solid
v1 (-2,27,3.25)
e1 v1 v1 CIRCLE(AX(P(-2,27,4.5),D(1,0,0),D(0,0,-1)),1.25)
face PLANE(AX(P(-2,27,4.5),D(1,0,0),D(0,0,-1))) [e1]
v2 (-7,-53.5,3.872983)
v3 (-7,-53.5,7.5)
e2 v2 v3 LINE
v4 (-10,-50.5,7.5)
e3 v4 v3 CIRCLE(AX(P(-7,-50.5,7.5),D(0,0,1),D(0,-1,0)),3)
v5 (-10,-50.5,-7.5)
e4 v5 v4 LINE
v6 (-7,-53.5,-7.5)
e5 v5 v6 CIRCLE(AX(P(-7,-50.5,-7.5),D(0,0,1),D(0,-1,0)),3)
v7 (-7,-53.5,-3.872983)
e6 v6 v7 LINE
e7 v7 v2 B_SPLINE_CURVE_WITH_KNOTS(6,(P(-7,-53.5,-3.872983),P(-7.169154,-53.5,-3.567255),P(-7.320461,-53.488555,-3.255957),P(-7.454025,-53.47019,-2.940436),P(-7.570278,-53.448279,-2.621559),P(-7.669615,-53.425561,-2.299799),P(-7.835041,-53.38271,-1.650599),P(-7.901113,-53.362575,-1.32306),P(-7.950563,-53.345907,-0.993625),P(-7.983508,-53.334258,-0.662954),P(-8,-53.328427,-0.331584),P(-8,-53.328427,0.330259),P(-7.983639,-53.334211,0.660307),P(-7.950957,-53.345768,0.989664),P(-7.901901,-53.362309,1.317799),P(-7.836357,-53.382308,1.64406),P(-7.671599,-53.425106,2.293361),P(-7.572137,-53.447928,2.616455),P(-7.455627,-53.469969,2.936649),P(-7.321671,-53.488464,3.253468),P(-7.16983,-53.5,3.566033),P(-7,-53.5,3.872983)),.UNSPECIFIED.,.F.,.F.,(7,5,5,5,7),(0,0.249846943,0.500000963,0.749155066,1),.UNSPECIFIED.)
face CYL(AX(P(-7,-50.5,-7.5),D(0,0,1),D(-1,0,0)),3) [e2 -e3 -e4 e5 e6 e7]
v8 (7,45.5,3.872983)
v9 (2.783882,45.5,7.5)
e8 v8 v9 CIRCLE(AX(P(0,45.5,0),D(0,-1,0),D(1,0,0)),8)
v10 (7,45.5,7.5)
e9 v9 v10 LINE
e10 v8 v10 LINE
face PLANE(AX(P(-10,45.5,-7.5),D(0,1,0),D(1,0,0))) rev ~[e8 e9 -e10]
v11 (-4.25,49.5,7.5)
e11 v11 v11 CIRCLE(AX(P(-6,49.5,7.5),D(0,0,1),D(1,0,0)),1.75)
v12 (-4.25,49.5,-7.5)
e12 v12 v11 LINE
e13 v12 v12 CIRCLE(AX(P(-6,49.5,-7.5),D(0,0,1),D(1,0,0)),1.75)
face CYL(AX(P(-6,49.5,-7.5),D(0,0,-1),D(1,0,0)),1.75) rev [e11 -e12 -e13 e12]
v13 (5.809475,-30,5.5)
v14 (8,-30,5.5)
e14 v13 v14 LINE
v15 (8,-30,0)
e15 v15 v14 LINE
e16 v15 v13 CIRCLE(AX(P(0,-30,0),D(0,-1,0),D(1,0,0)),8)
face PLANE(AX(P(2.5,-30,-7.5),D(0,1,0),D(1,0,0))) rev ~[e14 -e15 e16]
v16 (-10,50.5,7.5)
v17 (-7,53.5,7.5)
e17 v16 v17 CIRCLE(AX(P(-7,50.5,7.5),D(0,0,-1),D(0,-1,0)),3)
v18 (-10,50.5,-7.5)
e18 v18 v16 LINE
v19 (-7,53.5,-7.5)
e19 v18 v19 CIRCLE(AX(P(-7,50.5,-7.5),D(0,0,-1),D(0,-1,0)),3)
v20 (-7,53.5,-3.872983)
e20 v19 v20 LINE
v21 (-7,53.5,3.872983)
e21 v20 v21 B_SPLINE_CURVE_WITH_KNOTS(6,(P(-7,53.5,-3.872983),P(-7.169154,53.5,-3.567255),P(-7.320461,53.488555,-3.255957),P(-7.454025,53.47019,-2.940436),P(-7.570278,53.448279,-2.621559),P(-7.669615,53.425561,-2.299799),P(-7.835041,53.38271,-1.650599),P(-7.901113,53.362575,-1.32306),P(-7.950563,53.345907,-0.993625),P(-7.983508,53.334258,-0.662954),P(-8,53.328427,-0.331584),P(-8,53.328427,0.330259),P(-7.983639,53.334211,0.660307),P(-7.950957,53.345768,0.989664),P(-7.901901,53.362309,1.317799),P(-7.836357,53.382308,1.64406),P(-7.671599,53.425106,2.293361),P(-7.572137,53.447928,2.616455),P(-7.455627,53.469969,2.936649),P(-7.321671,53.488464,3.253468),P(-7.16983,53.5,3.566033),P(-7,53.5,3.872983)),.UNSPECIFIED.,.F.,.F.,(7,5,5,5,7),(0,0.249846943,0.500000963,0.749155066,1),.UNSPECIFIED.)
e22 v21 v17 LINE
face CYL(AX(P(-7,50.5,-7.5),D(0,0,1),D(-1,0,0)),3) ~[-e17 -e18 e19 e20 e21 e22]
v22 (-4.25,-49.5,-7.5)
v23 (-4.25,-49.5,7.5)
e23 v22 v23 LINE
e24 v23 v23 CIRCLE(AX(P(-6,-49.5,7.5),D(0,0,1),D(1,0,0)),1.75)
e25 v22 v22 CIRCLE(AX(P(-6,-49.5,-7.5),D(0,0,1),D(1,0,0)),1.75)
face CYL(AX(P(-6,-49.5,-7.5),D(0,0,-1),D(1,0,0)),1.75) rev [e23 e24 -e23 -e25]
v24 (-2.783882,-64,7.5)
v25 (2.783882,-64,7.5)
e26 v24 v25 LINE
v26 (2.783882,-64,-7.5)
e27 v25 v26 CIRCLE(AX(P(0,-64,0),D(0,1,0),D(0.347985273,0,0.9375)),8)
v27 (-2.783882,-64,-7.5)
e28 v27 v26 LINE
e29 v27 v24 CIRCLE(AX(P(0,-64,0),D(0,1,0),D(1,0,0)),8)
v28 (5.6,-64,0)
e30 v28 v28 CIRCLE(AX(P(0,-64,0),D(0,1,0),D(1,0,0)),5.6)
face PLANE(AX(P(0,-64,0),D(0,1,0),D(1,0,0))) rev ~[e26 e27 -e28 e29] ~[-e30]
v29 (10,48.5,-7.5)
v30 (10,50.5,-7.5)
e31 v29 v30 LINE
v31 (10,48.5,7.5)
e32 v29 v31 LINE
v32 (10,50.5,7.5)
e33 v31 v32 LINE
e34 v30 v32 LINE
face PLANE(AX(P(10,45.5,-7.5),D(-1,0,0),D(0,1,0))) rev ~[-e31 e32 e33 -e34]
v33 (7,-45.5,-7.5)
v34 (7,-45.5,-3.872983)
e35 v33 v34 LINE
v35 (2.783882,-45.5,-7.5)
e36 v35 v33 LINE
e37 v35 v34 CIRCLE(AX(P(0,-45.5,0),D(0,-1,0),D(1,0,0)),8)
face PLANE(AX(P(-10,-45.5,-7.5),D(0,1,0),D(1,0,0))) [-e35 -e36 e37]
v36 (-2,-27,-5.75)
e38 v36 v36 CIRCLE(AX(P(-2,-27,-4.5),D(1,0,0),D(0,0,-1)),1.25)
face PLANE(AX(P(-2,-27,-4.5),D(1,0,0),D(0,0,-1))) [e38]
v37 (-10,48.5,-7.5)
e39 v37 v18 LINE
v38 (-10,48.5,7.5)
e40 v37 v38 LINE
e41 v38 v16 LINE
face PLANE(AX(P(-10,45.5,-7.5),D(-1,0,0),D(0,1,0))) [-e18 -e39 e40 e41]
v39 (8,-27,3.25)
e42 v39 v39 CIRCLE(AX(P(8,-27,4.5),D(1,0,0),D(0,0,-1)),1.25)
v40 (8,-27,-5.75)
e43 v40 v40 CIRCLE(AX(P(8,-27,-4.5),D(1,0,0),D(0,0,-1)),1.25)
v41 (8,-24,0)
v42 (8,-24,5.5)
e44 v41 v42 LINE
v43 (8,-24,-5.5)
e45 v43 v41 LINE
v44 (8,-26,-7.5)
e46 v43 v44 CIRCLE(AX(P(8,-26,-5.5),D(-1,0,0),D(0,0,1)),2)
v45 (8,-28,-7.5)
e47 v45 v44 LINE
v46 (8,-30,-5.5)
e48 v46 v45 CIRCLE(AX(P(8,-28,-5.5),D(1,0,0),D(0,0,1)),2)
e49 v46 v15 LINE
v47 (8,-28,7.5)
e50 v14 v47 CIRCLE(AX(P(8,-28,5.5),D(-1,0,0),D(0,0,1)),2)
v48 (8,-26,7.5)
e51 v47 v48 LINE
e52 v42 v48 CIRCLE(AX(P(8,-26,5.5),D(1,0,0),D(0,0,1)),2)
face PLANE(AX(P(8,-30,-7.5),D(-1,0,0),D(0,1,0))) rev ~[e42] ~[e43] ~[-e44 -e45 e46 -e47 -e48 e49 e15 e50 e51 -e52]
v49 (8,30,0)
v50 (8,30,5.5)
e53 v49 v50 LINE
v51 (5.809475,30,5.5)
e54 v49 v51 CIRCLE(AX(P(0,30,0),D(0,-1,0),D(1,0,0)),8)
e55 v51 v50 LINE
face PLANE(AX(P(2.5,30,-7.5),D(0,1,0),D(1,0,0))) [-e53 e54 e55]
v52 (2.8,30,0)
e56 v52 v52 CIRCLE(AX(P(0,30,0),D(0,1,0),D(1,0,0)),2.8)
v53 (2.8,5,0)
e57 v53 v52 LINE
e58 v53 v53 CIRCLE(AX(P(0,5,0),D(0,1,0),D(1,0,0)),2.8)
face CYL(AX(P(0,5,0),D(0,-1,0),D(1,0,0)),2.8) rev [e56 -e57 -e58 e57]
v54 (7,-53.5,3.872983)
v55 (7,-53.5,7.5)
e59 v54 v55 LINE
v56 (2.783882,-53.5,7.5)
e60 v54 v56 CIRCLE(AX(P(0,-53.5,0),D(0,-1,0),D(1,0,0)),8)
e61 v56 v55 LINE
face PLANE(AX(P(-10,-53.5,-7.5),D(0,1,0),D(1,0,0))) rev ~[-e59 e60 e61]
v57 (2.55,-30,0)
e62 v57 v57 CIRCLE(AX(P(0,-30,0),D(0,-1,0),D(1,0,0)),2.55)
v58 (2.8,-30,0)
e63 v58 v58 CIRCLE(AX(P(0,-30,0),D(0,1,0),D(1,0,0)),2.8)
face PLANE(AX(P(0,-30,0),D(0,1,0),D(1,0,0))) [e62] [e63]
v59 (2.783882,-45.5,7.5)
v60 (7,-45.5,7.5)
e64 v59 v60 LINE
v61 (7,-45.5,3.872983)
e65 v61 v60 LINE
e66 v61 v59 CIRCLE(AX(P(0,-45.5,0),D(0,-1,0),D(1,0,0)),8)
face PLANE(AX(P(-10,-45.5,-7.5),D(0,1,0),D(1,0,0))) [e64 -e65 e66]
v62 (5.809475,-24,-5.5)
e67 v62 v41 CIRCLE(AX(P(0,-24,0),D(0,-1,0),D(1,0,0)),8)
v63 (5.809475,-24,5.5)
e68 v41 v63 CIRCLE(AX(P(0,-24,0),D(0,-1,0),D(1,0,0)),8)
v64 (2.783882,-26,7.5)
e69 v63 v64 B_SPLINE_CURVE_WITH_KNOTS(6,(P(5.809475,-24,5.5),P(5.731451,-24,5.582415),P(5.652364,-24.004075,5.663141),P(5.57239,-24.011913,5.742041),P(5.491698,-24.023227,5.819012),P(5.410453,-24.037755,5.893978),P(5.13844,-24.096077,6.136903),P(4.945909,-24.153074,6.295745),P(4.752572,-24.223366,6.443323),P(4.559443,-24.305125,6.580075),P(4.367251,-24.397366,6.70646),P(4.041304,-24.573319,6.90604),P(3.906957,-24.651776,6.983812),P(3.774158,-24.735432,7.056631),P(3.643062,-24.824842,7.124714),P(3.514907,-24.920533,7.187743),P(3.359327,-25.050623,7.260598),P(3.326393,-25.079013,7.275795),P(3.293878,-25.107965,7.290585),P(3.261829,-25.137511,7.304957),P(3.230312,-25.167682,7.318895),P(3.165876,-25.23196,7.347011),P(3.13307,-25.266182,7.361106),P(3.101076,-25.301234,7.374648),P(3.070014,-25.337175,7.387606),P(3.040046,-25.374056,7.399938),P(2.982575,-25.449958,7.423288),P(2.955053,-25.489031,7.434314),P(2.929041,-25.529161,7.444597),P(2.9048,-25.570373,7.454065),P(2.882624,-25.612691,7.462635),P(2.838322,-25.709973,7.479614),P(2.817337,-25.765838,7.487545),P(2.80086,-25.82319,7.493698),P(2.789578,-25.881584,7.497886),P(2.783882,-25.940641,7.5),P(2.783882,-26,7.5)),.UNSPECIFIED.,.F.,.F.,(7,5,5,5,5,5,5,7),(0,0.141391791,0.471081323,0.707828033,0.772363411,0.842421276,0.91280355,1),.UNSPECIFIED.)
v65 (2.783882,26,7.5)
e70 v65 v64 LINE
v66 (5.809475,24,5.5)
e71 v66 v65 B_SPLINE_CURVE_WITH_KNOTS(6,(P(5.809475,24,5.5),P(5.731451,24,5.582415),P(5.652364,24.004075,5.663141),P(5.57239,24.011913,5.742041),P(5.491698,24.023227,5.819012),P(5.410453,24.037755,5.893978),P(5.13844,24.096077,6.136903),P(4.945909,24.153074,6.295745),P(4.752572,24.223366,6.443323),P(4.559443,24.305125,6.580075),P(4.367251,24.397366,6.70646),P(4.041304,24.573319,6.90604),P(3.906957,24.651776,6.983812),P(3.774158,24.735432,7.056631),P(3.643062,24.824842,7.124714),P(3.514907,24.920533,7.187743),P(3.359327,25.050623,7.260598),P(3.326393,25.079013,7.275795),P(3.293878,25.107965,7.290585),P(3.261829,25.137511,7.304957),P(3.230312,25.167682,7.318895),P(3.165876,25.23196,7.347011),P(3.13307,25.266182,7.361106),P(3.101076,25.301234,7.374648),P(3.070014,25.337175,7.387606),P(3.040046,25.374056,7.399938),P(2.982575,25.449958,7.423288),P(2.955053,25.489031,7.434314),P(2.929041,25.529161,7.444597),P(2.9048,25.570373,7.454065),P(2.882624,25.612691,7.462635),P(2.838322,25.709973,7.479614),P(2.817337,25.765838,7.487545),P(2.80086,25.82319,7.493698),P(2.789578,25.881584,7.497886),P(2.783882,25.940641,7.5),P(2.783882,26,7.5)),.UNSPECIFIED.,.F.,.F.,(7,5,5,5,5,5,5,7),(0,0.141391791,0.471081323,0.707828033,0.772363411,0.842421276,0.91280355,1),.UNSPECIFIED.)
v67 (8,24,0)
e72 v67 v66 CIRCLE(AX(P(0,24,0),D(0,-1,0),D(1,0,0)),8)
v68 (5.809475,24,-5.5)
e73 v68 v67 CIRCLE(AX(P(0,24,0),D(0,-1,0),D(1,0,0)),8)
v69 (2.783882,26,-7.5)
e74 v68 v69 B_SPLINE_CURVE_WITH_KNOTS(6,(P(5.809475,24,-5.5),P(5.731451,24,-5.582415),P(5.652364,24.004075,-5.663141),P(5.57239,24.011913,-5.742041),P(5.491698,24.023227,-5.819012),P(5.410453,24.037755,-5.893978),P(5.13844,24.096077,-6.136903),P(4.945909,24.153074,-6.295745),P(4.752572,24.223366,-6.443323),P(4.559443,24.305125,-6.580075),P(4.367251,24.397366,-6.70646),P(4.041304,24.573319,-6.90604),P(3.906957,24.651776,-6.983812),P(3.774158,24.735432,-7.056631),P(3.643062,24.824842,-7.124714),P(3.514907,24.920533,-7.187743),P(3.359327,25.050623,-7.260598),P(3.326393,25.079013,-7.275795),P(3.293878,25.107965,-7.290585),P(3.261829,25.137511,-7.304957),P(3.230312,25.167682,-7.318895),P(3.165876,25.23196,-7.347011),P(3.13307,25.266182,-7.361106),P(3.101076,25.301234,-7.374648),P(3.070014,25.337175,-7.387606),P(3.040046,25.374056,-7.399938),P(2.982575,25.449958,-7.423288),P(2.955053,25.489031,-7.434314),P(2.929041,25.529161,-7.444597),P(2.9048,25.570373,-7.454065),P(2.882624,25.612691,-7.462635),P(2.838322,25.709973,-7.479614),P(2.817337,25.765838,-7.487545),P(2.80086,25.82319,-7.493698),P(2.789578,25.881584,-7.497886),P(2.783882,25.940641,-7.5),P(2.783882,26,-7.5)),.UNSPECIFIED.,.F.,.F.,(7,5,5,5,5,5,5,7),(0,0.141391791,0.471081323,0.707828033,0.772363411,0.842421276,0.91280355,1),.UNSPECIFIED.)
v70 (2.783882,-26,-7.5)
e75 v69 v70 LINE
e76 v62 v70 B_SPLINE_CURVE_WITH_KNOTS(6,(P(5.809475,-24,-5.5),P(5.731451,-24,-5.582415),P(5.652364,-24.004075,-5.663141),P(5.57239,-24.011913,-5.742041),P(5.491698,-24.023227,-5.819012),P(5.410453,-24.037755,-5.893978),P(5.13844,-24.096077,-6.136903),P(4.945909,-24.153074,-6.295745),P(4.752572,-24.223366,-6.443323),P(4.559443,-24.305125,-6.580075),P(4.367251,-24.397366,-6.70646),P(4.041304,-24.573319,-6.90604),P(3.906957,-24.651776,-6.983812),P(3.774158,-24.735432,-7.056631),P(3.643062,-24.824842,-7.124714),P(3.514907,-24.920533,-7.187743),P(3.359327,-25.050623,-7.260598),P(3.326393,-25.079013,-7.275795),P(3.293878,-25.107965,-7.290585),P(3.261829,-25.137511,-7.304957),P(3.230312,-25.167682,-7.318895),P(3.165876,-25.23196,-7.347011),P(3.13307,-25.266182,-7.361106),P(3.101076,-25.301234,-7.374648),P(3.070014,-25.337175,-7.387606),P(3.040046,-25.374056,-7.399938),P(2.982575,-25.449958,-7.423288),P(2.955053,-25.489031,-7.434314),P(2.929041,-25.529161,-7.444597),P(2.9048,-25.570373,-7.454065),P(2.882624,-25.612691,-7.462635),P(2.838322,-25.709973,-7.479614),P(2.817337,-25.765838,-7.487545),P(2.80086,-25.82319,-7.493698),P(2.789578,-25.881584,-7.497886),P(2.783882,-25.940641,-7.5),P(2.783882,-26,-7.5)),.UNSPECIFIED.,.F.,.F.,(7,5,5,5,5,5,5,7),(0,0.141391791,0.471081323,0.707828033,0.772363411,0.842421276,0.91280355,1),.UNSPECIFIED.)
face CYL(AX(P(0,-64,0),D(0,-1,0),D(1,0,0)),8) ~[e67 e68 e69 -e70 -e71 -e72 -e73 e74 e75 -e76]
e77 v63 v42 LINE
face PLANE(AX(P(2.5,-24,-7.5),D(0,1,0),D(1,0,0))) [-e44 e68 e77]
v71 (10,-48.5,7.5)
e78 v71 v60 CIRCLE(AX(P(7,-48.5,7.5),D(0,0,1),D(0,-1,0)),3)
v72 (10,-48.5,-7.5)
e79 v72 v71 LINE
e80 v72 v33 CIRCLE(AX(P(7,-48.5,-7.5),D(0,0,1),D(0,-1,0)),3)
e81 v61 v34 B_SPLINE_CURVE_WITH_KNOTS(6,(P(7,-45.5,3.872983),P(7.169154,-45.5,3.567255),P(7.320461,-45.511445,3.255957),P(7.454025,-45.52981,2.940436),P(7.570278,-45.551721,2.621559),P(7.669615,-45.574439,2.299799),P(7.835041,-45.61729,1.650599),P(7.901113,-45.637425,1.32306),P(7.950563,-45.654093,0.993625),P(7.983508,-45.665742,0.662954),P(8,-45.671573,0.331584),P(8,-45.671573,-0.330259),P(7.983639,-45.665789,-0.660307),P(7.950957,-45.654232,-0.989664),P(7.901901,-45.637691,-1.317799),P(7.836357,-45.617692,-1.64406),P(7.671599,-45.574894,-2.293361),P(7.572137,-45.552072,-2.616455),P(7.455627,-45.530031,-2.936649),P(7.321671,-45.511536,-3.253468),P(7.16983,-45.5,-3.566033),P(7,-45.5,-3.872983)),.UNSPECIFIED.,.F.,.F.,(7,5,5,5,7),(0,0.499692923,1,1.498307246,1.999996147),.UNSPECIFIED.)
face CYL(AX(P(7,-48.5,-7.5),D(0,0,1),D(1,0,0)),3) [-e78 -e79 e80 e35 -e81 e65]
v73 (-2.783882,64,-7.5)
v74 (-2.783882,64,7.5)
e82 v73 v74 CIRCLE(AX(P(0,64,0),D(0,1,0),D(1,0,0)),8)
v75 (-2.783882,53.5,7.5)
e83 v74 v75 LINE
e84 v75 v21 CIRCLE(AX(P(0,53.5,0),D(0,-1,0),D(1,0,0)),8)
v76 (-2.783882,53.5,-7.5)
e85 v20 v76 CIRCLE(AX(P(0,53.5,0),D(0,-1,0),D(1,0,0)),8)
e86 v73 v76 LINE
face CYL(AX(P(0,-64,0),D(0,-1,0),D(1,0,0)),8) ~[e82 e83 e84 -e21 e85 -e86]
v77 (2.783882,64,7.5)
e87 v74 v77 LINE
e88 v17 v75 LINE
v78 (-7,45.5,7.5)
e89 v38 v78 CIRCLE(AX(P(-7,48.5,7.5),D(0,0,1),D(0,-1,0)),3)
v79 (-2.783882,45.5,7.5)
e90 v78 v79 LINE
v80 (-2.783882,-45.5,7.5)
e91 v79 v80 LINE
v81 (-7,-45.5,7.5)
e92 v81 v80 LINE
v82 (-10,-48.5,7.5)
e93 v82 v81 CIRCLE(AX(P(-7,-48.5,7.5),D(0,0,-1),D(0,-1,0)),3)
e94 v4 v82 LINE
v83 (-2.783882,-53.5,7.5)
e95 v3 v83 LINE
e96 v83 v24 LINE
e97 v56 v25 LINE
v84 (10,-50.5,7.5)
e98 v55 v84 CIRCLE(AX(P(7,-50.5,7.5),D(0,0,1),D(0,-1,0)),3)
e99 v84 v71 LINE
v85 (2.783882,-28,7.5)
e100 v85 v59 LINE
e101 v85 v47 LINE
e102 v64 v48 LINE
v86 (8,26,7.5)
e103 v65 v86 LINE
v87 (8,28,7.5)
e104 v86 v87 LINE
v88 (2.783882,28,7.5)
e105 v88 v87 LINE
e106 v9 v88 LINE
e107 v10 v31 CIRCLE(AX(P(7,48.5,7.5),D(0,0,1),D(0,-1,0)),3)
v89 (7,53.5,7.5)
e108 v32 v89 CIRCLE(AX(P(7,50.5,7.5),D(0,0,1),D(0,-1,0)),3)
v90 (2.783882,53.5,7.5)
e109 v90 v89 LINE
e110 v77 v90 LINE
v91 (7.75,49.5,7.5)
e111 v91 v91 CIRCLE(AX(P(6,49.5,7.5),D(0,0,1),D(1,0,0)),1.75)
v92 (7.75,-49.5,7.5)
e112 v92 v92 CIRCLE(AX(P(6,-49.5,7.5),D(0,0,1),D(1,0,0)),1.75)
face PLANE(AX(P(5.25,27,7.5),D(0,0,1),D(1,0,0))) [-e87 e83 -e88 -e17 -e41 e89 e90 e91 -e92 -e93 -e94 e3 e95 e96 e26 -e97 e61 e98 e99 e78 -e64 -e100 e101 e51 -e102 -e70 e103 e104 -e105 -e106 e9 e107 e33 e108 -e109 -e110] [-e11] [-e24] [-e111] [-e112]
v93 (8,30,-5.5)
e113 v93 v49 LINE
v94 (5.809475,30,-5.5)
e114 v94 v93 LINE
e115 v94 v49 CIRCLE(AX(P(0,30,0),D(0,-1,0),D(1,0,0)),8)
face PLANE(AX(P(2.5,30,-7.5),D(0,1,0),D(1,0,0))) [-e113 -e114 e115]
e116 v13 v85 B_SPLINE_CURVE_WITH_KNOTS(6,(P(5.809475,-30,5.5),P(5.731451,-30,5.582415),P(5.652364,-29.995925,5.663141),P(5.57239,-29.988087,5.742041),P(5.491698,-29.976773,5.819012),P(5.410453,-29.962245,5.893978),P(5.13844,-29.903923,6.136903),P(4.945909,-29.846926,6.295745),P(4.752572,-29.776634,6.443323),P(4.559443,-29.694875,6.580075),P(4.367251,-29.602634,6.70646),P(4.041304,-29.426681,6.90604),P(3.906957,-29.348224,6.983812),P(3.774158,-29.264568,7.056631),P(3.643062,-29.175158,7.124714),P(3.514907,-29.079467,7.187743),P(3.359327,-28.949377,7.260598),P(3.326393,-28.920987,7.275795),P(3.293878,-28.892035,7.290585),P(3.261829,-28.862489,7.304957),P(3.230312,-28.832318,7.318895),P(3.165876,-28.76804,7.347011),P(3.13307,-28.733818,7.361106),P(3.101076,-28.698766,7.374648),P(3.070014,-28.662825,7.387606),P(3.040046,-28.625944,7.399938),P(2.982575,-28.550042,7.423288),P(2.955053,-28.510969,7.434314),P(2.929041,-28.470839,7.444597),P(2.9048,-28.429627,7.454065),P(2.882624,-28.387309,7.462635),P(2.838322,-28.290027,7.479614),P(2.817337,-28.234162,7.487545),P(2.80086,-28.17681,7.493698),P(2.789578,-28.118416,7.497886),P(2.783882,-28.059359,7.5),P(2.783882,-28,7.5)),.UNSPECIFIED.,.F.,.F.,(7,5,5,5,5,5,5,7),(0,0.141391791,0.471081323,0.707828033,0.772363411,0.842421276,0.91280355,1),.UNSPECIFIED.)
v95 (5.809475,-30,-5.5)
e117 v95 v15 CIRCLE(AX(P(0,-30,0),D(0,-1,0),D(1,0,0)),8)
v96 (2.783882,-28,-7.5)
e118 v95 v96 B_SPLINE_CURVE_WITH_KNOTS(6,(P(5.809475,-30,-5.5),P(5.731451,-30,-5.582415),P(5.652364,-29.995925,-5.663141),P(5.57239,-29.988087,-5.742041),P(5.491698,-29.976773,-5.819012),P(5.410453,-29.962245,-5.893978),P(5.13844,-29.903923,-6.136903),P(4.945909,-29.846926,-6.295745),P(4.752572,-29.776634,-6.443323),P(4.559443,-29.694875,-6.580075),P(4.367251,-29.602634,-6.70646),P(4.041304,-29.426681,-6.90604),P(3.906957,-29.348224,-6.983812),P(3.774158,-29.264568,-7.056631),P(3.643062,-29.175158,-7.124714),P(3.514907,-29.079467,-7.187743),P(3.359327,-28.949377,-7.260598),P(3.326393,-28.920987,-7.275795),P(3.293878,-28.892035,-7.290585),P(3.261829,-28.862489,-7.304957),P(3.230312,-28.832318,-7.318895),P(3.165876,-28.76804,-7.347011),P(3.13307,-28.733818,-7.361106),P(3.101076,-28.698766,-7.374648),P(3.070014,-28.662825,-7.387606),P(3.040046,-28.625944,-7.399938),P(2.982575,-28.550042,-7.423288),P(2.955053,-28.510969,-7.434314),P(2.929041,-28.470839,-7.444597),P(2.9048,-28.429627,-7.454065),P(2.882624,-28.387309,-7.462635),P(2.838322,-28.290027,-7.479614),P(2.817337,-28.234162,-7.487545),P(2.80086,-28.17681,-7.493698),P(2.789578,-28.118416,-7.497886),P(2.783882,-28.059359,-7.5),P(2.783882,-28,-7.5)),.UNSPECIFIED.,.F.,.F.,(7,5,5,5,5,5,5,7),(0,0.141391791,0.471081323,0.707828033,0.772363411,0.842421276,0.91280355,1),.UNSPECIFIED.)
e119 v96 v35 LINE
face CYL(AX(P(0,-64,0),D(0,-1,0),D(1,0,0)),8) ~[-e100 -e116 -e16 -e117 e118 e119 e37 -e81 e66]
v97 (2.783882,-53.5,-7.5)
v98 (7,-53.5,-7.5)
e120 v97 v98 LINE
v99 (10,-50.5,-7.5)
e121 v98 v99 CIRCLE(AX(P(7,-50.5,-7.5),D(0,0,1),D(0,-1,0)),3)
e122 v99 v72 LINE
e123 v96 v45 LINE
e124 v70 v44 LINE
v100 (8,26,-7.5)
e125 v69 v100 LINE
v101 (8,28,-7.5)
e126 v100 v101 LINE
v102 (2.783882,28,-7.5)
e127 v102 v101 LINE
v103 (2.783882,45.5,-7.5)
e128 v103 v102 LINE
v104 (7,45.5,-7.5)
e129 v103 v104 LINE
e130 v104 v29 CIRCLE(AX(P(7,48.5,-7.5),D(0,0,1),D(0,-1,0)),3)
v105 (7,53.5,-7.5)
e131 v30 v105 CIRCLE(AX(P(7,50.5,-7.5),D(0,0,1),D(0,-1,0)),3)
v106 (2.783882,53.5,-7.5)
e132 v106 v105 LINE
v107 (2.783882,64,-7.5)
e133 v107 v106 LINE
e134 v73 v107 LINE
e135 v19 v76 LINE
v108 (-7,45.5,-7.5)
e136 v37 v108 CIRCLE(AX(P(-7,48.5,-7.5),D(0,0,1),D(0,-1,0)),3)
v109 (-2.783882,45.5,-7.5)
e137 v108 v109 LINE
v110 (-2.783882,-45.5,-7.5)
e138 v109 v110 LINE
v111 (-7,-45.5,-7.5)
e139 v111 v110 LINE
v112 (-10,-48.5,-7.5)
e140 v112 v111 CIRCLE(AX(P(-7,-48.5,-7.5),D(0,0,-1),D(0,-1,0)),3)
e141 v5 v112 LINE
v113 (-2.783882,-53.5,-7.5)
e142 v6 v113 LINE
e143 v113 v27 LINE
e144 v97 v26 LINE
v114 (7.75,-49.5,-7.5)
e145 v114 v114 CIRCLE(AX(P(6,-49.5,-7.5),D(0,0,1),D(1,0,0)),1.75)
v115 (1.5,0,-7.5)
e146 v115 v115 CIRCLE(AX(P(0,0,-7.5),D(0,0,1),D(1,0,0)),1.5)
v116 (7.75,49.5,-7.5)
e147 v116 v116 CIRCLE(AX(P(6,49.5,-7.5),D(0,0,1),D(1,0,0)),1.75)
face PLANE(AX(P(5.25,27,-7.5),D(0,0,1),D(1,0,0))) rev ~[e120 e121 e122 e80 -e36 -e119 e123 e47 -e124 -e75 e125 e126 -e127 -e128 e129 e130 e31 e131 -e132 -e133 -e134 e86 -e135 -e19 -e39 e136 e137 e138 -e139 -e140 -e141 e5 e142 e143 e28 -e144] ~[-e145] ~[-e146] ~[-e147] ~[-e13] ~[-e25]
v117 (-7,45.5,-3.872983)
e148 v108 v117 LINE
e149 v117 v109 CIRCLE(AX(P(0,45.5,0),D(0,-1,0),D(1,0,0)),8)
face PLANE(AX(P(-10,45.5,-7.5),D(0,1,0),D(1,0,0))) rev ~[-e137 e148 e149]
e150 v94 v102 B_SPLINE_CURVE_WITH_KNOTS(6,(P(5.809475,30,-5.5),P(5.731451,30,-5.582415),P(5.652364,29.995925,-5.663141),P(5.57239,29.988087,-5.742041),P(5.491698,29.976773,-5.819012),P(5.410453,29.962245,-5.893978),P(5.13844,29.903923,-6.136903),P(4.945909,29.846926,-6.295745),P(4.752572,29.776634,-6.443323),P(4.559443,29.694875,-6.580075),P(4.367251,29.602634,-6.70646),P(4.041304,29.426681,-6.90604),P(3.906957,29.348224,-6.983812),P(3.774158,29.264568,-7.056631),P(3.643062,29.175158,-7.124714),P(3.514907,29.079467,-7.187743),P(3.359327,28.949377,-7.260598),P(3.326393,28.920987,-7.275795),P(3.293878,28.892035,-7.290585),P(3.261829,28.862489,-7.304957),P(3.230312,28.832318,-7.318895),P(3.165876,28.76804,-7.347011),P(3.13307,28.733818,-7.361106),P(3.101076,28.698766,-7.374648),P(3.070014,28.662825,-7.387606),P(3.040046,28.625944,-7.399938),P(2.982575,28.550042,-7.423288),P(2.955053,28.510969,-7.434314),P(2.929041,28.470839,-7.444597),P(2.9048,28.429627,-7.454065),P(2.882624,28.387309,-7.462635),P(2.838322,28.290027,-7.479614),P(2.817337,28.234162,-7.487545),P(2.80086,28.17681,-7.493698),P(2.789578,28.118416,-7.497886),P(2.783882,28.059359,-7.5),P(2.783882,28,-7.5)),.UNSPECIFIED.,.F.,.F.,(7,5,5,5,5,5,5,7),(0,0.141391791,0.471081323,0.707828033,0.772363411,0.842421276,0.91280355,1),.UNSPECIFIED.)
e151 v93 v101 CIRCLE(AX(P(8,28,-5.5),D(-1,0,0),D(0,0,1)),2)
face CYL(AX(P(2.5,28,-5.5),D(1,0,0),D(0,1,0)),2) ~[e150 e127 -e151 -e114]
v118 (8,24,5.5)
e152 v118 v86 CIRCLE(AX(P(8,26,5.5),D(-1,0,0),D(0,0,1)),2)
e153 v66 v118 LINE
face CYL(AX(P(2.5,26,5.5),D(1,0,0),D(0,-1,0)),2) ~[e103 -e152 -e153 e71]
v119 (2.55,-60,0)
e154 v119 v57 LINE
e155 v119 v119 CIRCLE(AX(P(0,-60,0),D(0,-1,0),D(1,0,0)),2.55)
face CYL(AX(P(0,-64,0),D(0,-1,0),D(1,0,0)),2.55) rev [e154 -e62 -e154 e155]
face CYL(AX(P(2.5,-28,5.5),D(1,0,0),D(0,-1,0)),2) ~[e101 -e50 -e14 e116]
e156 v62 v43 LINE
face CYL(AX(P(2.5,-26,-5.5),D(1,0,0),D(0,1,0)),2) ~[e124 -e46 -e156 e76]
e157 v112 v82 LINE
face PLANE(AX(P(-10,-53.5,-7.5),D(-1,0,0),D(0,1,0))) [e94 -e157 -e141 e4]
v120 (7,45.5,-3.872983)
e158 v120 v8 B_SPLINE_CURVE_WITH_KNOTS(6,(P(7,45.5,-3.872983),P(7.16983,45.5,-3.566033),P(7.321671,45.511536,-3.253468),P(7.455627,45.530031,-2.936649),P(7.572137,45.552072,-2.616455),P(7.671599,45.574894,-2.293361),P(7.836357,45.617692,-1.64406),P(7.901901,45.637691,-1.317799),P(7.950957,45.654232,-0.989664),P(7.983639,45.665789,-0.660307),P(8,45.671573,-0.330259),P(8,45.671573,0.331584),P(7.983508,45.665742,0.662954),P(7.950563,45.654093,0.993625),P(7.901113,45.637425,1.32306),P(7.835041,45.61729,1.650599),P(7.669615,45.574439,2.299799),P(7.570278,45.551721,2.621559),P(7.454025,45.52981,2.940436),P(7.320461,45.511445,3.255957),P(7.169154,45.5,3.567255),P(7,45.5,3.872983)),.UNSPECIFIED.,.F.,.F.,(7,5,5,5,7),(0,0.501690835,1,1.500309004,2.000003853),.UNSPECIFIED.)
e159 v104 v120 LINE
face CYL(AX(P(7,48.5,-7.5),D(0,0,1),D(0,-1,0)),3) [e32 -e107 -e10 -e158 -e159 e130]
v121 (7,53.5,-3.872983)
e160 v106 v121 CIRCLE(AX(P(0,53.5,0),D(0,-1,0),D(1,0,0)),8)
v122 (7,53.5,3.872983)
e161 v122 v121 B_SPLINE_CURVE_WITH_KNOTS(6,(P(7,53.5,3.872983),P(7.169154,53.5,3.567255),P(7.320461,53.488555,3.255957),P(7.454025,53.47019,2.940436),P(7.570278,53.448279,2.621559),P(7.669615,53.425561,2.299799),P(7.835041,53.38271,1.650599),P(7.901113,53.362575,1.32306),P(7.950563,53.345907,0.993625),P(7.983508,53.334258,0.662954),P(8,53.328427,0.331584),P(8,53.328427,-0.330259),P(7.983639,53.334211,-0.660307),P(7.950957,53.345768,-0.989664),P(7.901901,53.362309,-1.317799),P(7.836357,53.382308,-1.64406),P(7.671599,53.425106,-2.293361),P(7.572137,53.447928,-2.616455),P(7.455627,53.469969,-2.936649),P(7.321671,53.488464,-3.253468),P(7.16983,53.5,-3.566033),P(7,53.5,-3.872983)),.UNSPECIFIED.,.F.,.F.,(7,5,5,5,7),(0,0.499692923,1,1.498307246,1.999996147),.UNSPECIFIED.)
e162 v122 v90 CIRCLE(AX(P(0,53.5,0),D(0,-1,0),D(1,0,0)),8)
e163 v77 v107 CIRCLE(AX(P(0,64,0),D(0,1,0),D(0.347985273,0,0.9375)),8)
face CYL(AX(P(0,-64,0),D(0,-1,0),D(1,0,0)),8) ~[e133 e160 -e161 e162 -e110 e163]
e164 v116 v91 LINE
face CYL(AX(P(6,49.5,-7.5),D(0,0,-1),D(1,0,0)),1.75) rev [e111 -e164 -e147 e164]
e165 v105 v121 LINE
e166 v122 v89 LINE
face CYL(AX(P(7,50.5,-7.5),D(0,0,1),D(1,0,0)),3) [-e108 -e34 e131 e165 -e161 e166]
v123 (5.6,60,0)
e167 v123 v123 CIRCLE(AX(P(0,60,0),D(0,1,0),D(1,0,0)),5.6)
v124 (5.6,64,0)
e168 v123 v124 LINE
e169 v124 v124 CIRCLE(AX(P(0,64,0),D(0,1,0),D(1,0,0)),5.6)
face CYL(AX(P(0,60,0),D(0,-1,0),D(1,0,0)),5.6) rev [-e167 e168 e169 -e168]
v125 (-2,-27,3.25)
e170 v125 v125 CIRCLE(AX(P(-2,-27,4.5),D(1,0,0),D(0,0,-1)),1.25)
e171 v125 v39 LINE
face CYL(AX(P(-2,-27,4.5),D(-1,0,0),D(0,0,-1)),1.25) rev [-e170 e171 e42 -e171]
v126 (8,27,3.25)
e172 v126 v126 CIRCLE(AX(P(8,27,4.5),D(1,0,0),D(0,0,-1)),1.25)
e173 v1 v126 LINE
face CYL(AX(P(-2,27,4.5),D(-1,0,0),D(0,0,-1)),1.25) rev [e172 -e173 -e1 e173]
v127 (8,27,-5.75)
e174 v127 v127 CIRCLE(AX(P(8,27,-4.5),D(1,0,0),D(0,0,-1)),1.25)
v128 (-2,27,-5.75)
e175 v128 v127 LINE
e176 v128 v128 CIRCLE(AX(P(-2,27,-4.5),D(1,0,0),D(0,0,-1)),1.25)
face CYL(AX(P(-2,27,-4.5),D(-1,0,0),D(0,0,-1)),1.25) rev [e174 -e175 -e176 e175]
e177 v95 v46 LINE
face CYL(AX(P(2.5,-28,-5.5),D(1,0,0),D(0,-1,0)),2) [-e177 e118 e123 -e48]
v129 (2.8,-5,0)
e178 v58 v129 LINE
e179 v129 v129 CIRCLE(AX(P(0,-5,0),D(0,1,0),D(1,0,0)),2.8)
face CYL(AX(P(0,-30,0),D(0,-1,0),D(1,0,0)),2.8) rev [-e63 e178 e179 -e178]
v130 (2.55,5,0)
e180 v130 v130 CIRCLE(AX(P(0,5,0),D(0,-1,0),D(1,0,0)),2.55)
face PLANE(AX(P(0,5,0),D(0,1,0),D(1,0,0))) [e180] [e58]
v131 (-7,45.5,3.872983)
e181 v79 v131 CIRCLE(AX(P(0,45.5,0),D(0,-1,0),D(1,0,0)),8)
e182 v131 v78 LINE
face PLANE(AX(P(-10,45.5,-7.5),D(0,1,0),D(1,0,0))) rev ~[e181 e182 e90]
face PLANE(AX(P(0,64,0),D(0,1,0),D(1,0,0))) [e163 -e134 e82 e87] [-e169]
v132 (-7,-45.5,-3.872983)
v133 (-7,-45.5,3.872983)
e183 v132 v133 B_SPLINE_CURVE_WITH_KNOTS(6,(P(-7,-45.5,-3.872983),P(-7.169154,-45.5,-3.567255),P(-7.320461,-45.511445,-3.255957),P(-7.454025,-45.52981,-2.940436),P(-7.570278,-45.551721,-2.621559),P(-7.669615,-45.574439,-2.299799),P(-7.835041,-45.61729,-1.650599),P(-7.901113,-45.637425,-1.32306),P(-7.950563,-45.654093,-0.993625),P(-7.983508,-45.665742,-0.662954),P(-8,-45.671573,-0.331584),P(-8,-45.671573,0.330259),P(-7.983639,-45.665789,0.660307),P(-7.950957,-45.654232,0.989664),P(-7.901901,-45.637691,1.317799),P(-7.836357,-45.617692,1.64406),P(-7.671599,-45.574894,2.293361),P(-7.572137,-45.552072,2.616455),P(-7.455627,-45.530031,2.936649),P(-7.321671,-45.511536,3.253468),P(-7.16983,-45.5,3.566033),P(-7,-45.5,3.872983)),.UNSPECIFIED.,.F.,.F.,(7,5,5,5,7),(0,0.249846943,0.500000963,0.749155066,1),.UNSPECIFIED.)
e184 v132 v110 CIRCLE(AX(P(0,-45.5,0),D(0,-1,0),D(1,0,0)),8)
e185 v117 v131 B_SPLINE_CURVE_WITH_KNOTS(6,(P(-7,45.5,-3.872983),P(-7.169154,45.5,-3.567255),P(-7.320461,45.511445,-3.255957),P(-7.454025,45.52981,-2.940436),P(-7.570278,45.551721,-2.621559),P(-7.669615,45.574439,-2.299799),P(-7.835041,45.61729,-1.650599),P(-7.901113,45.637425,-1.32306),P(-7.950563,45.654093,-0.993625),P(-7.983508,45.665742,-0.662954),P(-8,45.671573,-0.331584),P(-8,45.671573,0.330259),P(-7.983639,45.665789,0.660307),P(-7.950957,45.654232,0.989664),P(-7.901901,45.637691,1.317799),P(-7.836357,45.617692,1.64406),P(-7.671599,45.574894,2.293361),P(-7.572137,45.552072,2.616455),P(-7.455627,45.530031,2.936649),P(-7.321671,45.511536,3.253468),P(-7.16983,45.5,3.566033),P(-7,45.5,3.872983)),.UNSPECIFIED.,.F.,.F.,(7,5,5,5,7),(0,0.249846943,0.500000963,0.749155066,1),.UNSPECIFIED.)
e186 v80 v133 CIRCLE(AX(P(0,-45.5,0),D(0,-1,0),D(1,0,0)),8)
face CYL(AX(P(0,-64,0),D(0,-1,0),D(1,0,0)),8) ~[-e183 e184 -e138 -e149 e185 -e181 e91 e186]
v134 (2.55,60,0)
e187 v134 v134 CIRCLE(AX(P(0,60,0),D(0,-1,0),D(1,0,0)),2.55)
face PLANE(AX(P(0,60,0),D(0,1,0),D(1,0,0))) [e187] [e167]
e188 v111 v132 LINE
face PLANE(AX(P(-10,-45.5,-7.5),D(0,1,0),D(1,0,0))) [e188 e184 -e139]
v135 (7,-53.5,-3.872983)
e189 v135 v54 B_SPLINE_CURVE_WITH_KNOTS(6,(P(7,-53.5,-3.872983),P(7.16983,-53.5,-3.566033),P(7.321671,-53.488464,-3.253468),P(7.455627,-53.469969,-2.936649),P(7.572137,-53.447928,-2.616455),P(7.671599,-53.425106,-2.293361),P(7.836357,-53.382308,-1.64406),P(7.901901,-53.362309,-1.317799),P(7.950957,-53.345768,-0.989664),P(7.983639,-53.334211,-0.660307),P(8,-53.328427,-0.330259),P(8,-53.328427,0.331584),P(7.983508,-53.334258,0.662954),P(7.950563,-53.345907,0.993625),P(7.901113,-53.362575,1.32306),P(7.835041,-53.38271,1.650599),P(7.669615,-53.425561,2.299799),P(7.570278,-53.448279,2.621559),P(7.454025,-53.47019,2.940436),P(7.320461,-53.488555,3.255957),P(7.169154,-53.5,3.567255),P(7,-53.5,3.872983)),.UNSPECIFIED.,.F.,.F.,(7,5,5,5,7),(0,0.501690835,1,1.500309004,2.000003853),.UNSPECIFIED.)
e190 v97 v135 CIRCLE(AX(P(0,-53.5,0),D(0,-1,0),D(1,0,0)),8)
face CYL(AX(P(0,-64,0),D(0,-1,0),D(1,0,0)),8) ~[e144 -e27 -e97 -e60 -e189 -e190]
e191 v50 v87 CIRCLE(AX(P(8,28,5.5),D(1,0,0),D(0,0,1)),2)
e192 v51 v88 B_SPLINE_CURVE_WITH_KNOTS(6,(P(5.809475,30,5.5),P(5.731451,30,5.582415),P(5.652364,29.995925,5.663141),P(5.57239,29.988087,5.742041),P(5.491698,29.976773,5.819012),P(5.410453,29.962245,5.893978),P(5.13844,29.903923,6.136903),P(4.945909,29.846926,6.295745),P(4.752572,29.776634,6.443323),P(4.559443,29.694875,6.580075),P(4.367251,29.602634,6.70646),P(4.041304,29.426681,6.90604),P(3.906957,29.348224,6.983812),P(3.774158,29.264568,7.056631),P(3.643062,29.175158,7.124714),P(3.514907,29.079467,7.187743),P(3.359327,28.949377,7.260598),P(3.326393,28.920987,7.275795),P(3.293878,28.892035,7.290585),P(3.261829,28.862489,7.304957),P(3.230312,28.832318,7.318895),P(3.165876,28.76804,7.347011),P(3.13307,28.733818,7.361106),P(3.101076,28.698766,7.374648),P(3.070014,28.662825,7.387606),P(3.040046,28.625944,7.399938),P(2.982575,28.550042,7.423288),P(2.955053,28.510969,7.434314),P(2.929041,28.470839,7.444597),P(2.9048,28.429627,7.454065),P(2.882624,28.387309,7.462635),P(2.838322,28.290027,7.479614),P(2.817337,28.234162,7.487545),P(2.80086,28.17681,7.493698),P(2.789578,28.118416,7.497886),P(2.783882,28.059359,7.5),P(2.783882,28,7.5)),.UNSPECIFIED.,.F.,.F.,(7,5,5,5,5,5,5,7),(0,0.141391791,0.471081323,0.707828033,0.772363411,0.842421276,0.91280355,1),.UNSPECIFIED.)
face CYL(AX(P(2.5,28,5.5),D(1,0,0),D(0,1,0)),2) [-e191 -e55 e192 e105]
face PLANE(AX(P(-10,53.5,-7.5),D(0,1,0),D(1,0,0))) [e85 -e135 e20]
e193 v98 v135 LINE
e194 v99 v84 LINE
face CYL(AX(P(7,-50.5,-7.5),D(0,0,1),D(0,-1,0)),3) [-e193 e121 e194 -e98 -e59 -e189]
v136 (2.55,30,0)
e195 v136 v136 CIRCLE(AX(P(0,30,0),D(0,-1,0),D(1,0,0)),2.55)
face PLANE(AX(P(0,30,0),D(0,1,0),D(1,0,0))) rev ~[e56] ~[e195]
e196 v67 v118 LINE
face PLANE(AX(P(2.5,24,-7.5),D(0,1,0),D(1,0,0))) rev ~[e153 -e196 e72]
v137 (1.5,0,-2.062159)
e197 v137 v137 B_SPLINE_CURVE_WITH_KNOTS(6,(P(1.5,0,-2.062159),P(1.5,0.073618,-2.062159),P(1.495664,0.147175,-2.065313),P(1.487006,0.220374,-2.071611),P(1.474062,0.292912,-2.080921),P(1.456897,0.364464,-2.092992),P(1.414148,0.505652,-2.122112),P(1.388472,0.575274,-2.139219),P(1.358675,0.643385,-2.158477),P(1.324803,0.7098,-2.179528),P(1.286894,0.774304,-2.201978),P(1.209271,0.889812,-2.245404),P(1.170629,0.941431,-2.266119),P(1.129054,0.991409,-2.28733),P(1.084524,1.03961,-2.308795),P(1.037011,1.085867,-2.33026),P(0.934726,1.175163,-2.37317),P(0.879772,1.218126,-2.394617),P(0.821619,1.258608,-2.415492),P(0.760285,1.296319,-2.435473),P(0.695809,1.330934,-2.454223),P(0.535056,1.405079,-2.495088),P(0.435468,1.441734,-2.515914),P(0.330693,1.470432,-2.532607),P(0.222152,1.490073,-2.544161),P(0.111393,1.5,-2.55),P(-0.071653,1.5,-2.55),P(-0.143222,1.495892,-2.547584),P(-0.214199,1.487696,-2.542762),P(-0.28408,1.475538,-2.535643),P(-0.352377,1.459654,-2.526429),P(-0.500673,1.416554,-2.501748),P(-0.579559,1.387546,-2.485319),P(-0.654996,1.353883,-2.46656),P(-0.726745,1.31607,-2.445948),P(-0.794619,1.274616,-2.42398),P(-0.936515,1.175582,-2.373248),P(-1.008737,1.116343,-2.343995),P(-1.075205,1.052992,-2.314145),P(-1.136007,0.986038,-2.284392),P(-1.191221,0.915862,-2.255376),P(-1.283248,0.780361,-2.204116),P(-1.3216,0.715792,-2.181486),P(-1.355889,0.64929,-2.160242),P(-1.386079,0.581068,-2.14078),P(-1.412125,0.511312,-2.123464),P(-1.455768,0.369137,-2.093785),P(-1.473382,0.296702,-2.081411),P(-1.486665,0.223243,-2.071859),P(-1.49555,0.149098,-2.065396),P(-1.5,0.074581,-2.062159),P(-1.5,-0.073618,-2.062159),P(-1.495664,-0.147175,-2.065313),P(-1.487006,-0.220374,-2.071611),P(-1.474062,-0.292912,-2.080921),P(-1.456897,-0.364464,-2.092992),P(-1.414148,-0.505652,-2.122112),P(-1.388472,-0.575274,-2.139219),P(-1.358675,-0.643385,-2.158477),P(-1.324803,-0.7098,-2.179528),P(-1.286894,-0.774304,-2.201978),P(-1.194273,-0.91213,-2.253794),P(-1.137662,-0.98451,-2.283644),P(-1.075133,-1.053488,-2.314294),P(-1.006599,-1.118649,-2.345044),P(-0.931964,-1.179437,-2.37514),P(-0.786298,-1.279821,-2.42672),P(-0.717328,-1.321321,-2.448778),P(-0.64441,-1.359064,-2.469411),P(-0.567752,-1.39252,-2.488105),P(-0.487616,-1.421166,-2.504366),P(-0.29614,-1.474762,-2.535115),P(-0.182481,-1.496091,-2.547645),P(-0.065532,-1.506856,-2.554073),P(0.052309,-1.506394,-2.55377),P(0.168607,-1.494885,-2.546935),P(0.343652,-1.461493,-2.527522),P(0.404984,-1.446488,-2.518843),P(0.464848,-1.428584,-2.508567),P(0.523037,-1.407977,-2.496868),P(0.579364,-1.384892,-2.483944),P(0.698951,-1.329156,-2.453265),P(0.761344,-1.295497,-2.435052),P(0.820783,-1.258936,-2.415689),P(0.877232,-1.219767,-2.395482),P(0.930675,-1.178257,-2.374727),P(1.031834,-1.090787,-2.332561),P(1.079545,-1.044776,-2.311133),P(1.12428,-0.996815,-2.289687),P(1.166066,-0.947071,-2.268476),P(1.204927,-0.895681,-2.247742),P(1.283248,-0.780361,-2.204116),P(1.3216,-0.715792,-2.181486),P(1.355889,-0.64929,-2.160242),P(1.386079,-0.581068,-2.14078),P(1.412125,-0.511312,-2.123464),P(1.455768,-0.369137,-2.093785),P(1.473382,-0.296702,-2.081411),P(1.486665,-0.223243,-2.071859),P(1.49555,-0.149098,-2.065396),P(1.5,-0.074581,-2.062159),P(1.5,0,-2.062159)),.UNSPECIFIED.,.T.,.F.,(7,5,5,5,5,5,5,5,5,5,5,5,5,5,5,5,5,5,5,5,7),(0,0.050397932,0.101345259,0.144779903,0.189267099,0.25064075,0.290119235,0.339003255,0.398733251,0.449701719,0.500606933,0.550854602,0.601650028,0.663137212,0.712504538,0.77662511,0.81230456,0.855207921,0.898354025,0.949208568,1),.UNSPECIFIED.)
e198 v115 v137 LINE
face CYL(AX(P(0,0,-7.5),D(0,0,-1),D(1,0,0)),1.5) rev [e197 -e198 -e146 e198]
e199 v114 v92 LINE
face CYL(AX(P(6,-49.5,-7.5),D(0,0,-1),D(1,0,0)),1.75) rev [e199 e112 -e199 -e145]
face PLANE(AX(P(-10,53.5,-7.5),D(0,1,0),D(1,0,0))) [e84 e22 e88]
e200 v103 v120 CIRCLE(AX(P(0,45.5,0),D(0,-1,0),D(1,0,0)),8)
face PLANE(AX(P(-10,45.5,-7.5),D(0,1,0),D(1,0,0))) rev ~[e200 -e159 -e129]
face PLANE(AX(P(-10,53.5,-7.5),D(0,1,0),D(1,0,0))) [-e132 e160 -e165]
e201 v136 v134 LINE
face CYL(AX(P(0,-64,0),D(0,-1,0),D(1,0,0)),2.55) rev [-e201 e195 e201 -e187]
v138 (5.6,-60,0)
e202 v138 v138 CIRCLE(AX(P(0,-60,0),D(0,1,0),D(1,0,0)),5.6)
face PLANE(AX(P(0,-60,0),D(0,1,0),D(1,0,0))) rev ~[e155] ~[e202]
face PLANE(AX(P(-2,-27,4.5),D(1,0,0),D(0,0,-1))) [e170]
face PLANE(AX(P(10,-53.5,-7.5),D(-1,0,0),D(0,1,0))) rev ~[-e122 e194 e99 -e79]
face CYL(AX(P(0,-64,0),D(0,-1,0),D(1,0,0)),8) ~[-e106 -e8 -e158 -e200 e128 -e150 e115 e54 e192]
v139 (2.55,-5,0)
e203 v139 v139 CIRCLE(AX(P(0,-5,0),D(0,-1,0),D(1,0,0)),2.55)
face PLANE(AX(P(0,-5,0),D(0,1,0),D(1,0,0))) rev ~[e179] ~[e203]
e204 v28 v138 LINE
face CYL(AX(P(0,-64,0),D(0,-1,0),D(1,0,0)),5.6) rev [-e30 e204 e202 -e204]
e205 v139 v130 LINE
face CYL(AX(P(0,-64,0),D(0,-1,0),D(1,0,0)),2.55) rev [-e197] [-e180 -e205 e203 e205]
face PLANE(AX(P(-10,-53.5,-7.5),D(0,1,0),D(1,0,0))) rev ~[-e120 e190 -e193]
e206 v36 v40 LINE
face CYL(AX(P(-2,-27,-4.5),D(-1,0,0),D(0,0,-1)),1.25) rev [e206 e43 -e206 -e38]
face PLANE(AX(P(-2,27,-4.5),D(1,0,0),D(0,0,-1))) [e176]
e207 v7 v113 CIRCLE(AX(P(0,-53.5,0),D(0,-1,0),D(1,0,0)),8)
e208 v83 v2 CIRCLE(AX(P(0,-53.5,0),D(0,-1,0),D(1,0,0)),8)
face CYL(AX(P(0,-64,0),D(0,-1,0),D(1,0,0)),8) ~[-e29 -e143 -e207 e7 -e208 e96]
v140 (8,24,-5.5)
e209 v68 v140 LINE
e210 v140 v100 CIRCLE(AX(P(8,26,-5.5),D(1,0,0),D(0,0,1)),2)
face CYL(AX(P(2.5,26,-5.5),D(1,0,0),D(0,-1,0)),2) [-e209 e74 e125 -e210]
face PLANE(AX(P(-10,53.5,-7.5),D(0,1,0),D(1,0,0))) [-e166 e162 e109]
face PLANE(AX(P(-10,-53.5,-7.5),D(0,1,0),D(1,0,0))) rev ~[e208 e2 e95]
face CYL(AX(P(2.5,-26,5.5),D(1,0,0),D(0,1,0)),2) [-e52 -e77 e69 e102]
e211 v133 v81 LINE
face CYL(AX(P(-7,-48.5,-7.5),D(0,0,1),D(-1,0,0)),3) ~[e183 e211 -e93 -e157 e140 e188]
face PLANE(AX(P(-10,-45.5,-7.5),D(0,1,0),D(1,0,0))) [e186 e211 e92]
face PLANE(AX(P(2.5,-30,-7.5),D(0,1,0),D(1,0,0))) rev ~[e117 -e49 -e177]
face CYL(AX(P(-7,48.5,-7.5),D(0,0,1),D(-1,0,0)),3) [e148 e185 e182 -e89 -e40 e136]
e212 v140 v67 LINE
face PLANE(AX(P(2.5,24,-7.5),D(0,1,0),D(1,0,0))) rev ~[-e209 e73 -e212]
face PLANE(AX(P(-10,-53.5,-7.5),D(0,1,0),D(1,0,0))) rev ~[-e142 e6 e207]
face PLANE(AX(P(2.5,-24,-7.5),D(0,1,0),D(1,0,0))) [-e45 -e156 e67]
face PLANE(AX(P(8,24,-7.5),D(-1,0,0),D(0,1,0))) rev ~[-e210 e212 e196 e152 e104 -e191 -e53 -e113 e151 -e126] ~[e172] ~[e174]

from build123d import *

# Parameters (mm, degrees)
CYLINDER148_R     = 1.5
CYLINDER148_DEPTH = 6
BOX014_W          = 20
BOX014_H          = 128
BOX014_DEPTH      = 1
BOX013_W          = 20
BOX013_H          = 128
BOX013_DEPTH      = 1
CYLINDER149_R     = 2.8
CYLINDER149_DEPTH = 25
CYLINDER150_R     = 2.8
CYLINDER150_DEPTH = 25
CYLINDER121_R     = 1.75
CYLINDER121_DEPTH = 15
CYLINDER120_R     = 1.75
CYLINDER120_DEPTH = 15
CYLINDER140_R     = 1.75
CYLINDER140_DEPTH = 15
CYLINDER141_R     = 1.75
CYLINDER141_DEPTH = 15
CYLINDER151_R     = 1.25
CYLINDER151_DEPTH = 10
CYLINDER152_R     = 1.25
CYLINDER152_DEPTH = 10
CYLINDER153_R     = 1.25
CYLINDER153_DEPTH = 10
CYLINDER154_R     = 1.25
CYLINDER154_DEPTH = 10
CYLINDER144_R     = 5.6
CYLINDER144_DEPTH = 4
CYLINDER145_R     = 5.6
CYLINDER145_DEPTH = 4
CYLINDER143_R     = 2.55
CYLINDER143_DEPTH = 128
BOX015_W          = 5.5
BOX015_H          = 6
BOX015_DEPTH      = 15
BOX016_W          = 5.5
BOX016_H          = 6
BOX016_DEPTH      = 15
FILLET009_R       = 2
BOX012_W          = 20
BOX012_H          = 8
BOX012_DEPTH      = 15
FILLET008_R       = 3
BOX011_W          = 20
BOX011_H          = 8
BOX011_DEPTH      = 15
FILLET007_R       = 3
CYLINDER142_R     = 8
CYLINDER142_DEPTH = 128


with BuildPart() as cylinder148:
    # Cylinder148 → Cylinder148 (new body)
    with BuildSketch(Plane.XY.offset(-7.5)):
        Circle(CYLINDER148_R)
    extrude(amount=CYLINDER148_DEPTH)


with BuildPart() as cube003:
    # Box014 → Box014 (new body)
    with BuildSketch(Plane(origin=(-10, -64, 7.5), x_dir=(1, 0, 0), z_dir=(0, 0, 1))):
        with Locations((10, 64)):
            Rectangle(BOX014_W, BOX014_H)
    extrude(amount=BOX014_DEPTH)


with BuildPart() as fusion127:
    # Box013 → Box013 (new body)
    with BuildSketch(Plane(origin=(-10, -64, -8.5), x_dir=(1, 0, 0), z_dir=(0, 0, 1))):
        with Locations((10, 64)):
            Rectangle(BOX013_W, BOX013_H)
    extrude(amount=BOX013_DEPTH)

    # Fusion127: union Cube003
    add(cube003.part)


with BuildPart() as cylinder149:
    # Cylinder149 → Cylinder149 (new body)
    with BuildSketch(Plane(origin=(0, -30, 0), x_dir=(1, 0, 0), z_dir=(0, 1, 0))):
        Circle(CYLINDER149_R)
    extrude(amount=CYLINDER149_DEPTH)


with BuildPart() as fusion128:
    # Cylinder150 → Cylinder150 (new body)
    with BuildSketch(Plane(origin=(0, 5, 0), x_dir=(1, 0, 0), z_dir=(0, 1, 0))):
        Circle(CYLINDER150_R)
    extrude(amount=CYLINDER150_DEPTH)

    # Fusion128: union Cylinder149
    add(cylinder149.part)


with BuildPart() as cylinder121:
    # Cylinder121 → Cylinder121 (new body)
    with BuildSketch(Plane(origin=(13.5, -49.5, 13), x_dir=(1, 0, 0), z_dir=(0, 0, 1))):
        Circle(CYLINDER121_R)
    extrude(amount=CYLINDER121_DEPTH)


with BuildPart() as fusion121:
    # Cylinder120 → Cylinder120 (new body)
    with BuildSketch(Plane(origin=(13.5, 49.5, 13), x_dir=(1, 0, 0), z_dir=(0, 0, 1))):
        Circle(CYLINDER120_R)
    extrude(amount=CYLINDER120_DEPTH)

    # Fusion121: union Cylinder121
    add(cylinder121.part)


with BuildPart() as cylinder140:
    # Cylinder140 → Cylinder140 (new body)
    with BuildSketch(Plane(origin=(13.5, -49.5, 13), x_dir=(1, 0, 0), z_dir=(0, 0, 1))):
        Circle(CYLINDER140_R)
    extrude(amount=CYLINDER140_DEPTH)


with BuildPart() as fusion123:
    # Cylinder141 → Cylinder141 (new body)
    with BuildSketch(Plane(origin=(13.5, 49.5, 13), x_dir=(1, 0, 0), z_dir=(0, 0, 1))):
        Circle(CYLINDER141_R)
    extrude(amount=CYLINDER141_DEPTH)

    # Fusion122: union Cylinder140
    add(cylinder140.part)


with BuildPart() as fusion123_1:
    # Fusion122 placement: moved
    add(fusion123.part.moved(Location((-12, 0, 0))))

    # Fusion123: union Fusion121
    add(fusion121.part)


with BuildPart() as fusion123_2:
    # Fusion123 placement: moved
    add(fusion123_1.part.moved(Location((-7.5, 0, -20.5))))


with BuildPart() as cylinder151:
    # Cylinder151 → Cylinder151 (new body)
    with BuildSketch(Plane(origin=(0, -27, 4.5), x_dir=(0, 0, -1), z_dir=(1, 0, 0))):
        Circle(CYLINDER151_R)
    extrude(amount=CYLINDER151_DEPTH)


with BuildPart() as fusion131:
    # Cylinder152 → Cylinder152 (new body)
    with BuildSketch(Plane(origin=(0, -27, -4.5), x_dir=(0, 0, -1), z_dir=(1, 0, 0))):
        Circle(CYLINDER152_R)
    extrude(amount=CYLINDER152_DEPTH)

    # Fusion131: union Cylinder151
    add(cylinder151.part)


with BuildPart() as cylinder153:
    # Cylinder153 → Cylinder153 (new body)
    with BuildSketch(Plane(origin=(0, -27, 4.5), x_dir=(0, 0, -1), z_dir=(1, 0, 0))):
        Circle(CYLINDER153_R)
    extrude(amount=CYLINDER153_DEPTH)


with BuildPart() as fusion133:
    # Cylinder154 → Cylinder154 (new body)
    with BuildSketch(Plane(origin=(0, -27, -4.5), x_dir=(0, 0, -1), z_dir=(1, 0, 0))):
        Circle(CYLINDER154_R)
    extrude(amount=CYLINDER154_DEPTH)

    # Fusion132: union Cylinder153
    add(cylinder153.part)


with BuildPart() as fusion133_1:
    # Fusion132 placement: moved
    add(fusion133.part.moved(Location((0, 54, 0))))

    # Fusion133: union Fusion131
    add(fusion131.part)


with BuildPart() as fusion133_2:
    # Fusion133 placement: moved
    add(fusion133_1.part.moved(Location((-2, 0, 0))))


with BuildPart() as cylinder144:
    # Cylinder144 → Cylinder144 (new body)
    with BuildSketch(Plane(origin=(0, -64, 0), x_dir=(1, 0, 0), z_dir=(0, 1, 0))):
        Circle(CYLINDER144_R)
    extrude(amount=CYLINDER144_DEPTH)


with BuildPart() as fusion124:
    # Cylinder145 → Cylinder145 (new body)
    with BuildSketch(Plane(origin=(0, 60, 0), x_dir=(1, 0, 0), z_dir=(0, 1, 0))):
        Circle(CYLINDER145_R)
    extrude(amount=CYLINDER145_DEPTH)

    # Fusion124: union Cylinder144
    add(cylinder144.part)


with BuildPart() as fusion125:
    # Cylinder143 → Cylinder143 (new body)
    with BuildSketch(Plane(origin=(0, -64, 0), x_dir=(1, 0, 0), z_dir=(0, 1, 0))):
        Circle(CYLINDER143_R)
    extrude(amount=CYLINDER143_DEPTH)

    # Fusion125: union Fusion124
    add(fusion124.part)


with BuildPart() as cube004:
    # Box015 → Box015 (new body)
    with BuildSketch(Plane(origin=(2.5, -30, -7.5), x_dir=(1, 0, 0), z_dir=(0, 0, 1))):
        with Locations((2.75, 3)):
            Rectangle(BOX015_W, BOX015_H)
    extrude(amount=BOX015_DEPTH)


with BuildPart() as fillet009:
    # Box016 → Box016 (new body)
    with BuildSketch(Plane(origin=(2.5, 24, -7.5), x_dir=(1, 0, 0), z_dir=(0, 0, 1))):
        with Locations((2.75, 3)):
            Rectangle(BOX016_W, BOX016_H)
    extrude(amount=BOX016_DEPTH)

    # Fusion129: union Cube004
    add(cube004.part)

    # Fillet009
    fillet009_edges = [fillet009.edges().sort_by_distance(p)[0] for p in [
        (5.25, 24, -7.5),
        (5.25, 24, 7.5),
        (5.25, 30, -7.5),
        (5.25, 30, 7.5),
        (5.25, -30, -7.5),
        (5.25, -30, 7.5),
        (5.25, -24, -7.5),
        (5.25, -24, 7.5),
    ]]
    fillet(fillet009_edges, radius=FILLET009_R)


with BuildPart() as fillet008:
    # Box012 → Box012 (new body)
    with BuildSketch(Plane(origin=(-10, -53.5, -7.5), x_dir=(1, 0, 0), z_dir=(0, 0, 1))):
        with Locations((10, 4)):
            Rectangle(BOX012_W, BOX012_H)
    extrude(amount=BOX012_DEPTH)

    # Fillet008
    fillet008_edges = [fillet008.edges().sort_by_distance(p)[0] for p in [
        (-10, -53.5, 0),
        (-10, -45.5, 0),
        (10, -53.5, 0),
        (10, -45.5, 0),
    ]]
    fillet(fillet008_edges, radius=FILLET008_R)


with BuildPart() as fillet007:
    # Box011 → Box011 (new body)
    with BuildSketch(Plane(origin=(-10, -53.5, -7.5), x_dir=(1, 0, 0), z_dir=(0, 0, 1))):
        with Locations((10, 4)):
            Rectangle(BOX011_W, BOX011_H)
    extrude(amount=BOX011_DEPTH)

    # Fillet007
    fillet007_edges = [fillet007.edges().sort_by_distance(p)[0] for p in [
        (-10, -53.5, 0),
        (-10, -45.5, 0),
        (10, -53.5, 0),
        (10, -45.5, 0),
    ]]
    fillet(fillet007_edges, radius=FILLET007_R)


with BuildPart() as fillet007_1:
    # Fillet007 placement: moved
    add(fillet007.part.moved(Location((0, 99, 0))))


with BuildPart() as axle_wide:
    # Cylinder142 → Cylinder142 (new body)
    with BuildSketch(Plane(origin=(0, -64, 0), x_dir=(1, 0, 0), z_dir=(0, 1, 0))):
        Circle(CYLINDER142_R)
    extrude(amount=CYLINDER142_DEPTH)

    # Fusion126: union Fillet008, Fillet007
    add(fillet008.part)
    add(fillet007_1.part)

    # Fusion130: union Fillet009
    add(fillet009.part)

    # Cut045: cut Fusion125
    add(fusion125.part, mode=Mode.SUBTRACT)

    # Cut046: cut Fusion133
    add(fusion133_2.part, mode=Mode.SUBTRACT)

    # Cut047: cut Fusion123
    add(fusion123_2.part, mode=Mode.SUBTRACT)

    # Cut048: cut Fusion128
    add(fusion128.part, mode=Mode.SUBTRACT)

    # Cut049: cut Fusion127
    add(fusion127.part, mode=Mode.SUBTRACT)

    # Cut050: cut Cylinder148
    add(cylinder148.part, mode=Mode.SUBTRACT)


solid = axle_wide.part
